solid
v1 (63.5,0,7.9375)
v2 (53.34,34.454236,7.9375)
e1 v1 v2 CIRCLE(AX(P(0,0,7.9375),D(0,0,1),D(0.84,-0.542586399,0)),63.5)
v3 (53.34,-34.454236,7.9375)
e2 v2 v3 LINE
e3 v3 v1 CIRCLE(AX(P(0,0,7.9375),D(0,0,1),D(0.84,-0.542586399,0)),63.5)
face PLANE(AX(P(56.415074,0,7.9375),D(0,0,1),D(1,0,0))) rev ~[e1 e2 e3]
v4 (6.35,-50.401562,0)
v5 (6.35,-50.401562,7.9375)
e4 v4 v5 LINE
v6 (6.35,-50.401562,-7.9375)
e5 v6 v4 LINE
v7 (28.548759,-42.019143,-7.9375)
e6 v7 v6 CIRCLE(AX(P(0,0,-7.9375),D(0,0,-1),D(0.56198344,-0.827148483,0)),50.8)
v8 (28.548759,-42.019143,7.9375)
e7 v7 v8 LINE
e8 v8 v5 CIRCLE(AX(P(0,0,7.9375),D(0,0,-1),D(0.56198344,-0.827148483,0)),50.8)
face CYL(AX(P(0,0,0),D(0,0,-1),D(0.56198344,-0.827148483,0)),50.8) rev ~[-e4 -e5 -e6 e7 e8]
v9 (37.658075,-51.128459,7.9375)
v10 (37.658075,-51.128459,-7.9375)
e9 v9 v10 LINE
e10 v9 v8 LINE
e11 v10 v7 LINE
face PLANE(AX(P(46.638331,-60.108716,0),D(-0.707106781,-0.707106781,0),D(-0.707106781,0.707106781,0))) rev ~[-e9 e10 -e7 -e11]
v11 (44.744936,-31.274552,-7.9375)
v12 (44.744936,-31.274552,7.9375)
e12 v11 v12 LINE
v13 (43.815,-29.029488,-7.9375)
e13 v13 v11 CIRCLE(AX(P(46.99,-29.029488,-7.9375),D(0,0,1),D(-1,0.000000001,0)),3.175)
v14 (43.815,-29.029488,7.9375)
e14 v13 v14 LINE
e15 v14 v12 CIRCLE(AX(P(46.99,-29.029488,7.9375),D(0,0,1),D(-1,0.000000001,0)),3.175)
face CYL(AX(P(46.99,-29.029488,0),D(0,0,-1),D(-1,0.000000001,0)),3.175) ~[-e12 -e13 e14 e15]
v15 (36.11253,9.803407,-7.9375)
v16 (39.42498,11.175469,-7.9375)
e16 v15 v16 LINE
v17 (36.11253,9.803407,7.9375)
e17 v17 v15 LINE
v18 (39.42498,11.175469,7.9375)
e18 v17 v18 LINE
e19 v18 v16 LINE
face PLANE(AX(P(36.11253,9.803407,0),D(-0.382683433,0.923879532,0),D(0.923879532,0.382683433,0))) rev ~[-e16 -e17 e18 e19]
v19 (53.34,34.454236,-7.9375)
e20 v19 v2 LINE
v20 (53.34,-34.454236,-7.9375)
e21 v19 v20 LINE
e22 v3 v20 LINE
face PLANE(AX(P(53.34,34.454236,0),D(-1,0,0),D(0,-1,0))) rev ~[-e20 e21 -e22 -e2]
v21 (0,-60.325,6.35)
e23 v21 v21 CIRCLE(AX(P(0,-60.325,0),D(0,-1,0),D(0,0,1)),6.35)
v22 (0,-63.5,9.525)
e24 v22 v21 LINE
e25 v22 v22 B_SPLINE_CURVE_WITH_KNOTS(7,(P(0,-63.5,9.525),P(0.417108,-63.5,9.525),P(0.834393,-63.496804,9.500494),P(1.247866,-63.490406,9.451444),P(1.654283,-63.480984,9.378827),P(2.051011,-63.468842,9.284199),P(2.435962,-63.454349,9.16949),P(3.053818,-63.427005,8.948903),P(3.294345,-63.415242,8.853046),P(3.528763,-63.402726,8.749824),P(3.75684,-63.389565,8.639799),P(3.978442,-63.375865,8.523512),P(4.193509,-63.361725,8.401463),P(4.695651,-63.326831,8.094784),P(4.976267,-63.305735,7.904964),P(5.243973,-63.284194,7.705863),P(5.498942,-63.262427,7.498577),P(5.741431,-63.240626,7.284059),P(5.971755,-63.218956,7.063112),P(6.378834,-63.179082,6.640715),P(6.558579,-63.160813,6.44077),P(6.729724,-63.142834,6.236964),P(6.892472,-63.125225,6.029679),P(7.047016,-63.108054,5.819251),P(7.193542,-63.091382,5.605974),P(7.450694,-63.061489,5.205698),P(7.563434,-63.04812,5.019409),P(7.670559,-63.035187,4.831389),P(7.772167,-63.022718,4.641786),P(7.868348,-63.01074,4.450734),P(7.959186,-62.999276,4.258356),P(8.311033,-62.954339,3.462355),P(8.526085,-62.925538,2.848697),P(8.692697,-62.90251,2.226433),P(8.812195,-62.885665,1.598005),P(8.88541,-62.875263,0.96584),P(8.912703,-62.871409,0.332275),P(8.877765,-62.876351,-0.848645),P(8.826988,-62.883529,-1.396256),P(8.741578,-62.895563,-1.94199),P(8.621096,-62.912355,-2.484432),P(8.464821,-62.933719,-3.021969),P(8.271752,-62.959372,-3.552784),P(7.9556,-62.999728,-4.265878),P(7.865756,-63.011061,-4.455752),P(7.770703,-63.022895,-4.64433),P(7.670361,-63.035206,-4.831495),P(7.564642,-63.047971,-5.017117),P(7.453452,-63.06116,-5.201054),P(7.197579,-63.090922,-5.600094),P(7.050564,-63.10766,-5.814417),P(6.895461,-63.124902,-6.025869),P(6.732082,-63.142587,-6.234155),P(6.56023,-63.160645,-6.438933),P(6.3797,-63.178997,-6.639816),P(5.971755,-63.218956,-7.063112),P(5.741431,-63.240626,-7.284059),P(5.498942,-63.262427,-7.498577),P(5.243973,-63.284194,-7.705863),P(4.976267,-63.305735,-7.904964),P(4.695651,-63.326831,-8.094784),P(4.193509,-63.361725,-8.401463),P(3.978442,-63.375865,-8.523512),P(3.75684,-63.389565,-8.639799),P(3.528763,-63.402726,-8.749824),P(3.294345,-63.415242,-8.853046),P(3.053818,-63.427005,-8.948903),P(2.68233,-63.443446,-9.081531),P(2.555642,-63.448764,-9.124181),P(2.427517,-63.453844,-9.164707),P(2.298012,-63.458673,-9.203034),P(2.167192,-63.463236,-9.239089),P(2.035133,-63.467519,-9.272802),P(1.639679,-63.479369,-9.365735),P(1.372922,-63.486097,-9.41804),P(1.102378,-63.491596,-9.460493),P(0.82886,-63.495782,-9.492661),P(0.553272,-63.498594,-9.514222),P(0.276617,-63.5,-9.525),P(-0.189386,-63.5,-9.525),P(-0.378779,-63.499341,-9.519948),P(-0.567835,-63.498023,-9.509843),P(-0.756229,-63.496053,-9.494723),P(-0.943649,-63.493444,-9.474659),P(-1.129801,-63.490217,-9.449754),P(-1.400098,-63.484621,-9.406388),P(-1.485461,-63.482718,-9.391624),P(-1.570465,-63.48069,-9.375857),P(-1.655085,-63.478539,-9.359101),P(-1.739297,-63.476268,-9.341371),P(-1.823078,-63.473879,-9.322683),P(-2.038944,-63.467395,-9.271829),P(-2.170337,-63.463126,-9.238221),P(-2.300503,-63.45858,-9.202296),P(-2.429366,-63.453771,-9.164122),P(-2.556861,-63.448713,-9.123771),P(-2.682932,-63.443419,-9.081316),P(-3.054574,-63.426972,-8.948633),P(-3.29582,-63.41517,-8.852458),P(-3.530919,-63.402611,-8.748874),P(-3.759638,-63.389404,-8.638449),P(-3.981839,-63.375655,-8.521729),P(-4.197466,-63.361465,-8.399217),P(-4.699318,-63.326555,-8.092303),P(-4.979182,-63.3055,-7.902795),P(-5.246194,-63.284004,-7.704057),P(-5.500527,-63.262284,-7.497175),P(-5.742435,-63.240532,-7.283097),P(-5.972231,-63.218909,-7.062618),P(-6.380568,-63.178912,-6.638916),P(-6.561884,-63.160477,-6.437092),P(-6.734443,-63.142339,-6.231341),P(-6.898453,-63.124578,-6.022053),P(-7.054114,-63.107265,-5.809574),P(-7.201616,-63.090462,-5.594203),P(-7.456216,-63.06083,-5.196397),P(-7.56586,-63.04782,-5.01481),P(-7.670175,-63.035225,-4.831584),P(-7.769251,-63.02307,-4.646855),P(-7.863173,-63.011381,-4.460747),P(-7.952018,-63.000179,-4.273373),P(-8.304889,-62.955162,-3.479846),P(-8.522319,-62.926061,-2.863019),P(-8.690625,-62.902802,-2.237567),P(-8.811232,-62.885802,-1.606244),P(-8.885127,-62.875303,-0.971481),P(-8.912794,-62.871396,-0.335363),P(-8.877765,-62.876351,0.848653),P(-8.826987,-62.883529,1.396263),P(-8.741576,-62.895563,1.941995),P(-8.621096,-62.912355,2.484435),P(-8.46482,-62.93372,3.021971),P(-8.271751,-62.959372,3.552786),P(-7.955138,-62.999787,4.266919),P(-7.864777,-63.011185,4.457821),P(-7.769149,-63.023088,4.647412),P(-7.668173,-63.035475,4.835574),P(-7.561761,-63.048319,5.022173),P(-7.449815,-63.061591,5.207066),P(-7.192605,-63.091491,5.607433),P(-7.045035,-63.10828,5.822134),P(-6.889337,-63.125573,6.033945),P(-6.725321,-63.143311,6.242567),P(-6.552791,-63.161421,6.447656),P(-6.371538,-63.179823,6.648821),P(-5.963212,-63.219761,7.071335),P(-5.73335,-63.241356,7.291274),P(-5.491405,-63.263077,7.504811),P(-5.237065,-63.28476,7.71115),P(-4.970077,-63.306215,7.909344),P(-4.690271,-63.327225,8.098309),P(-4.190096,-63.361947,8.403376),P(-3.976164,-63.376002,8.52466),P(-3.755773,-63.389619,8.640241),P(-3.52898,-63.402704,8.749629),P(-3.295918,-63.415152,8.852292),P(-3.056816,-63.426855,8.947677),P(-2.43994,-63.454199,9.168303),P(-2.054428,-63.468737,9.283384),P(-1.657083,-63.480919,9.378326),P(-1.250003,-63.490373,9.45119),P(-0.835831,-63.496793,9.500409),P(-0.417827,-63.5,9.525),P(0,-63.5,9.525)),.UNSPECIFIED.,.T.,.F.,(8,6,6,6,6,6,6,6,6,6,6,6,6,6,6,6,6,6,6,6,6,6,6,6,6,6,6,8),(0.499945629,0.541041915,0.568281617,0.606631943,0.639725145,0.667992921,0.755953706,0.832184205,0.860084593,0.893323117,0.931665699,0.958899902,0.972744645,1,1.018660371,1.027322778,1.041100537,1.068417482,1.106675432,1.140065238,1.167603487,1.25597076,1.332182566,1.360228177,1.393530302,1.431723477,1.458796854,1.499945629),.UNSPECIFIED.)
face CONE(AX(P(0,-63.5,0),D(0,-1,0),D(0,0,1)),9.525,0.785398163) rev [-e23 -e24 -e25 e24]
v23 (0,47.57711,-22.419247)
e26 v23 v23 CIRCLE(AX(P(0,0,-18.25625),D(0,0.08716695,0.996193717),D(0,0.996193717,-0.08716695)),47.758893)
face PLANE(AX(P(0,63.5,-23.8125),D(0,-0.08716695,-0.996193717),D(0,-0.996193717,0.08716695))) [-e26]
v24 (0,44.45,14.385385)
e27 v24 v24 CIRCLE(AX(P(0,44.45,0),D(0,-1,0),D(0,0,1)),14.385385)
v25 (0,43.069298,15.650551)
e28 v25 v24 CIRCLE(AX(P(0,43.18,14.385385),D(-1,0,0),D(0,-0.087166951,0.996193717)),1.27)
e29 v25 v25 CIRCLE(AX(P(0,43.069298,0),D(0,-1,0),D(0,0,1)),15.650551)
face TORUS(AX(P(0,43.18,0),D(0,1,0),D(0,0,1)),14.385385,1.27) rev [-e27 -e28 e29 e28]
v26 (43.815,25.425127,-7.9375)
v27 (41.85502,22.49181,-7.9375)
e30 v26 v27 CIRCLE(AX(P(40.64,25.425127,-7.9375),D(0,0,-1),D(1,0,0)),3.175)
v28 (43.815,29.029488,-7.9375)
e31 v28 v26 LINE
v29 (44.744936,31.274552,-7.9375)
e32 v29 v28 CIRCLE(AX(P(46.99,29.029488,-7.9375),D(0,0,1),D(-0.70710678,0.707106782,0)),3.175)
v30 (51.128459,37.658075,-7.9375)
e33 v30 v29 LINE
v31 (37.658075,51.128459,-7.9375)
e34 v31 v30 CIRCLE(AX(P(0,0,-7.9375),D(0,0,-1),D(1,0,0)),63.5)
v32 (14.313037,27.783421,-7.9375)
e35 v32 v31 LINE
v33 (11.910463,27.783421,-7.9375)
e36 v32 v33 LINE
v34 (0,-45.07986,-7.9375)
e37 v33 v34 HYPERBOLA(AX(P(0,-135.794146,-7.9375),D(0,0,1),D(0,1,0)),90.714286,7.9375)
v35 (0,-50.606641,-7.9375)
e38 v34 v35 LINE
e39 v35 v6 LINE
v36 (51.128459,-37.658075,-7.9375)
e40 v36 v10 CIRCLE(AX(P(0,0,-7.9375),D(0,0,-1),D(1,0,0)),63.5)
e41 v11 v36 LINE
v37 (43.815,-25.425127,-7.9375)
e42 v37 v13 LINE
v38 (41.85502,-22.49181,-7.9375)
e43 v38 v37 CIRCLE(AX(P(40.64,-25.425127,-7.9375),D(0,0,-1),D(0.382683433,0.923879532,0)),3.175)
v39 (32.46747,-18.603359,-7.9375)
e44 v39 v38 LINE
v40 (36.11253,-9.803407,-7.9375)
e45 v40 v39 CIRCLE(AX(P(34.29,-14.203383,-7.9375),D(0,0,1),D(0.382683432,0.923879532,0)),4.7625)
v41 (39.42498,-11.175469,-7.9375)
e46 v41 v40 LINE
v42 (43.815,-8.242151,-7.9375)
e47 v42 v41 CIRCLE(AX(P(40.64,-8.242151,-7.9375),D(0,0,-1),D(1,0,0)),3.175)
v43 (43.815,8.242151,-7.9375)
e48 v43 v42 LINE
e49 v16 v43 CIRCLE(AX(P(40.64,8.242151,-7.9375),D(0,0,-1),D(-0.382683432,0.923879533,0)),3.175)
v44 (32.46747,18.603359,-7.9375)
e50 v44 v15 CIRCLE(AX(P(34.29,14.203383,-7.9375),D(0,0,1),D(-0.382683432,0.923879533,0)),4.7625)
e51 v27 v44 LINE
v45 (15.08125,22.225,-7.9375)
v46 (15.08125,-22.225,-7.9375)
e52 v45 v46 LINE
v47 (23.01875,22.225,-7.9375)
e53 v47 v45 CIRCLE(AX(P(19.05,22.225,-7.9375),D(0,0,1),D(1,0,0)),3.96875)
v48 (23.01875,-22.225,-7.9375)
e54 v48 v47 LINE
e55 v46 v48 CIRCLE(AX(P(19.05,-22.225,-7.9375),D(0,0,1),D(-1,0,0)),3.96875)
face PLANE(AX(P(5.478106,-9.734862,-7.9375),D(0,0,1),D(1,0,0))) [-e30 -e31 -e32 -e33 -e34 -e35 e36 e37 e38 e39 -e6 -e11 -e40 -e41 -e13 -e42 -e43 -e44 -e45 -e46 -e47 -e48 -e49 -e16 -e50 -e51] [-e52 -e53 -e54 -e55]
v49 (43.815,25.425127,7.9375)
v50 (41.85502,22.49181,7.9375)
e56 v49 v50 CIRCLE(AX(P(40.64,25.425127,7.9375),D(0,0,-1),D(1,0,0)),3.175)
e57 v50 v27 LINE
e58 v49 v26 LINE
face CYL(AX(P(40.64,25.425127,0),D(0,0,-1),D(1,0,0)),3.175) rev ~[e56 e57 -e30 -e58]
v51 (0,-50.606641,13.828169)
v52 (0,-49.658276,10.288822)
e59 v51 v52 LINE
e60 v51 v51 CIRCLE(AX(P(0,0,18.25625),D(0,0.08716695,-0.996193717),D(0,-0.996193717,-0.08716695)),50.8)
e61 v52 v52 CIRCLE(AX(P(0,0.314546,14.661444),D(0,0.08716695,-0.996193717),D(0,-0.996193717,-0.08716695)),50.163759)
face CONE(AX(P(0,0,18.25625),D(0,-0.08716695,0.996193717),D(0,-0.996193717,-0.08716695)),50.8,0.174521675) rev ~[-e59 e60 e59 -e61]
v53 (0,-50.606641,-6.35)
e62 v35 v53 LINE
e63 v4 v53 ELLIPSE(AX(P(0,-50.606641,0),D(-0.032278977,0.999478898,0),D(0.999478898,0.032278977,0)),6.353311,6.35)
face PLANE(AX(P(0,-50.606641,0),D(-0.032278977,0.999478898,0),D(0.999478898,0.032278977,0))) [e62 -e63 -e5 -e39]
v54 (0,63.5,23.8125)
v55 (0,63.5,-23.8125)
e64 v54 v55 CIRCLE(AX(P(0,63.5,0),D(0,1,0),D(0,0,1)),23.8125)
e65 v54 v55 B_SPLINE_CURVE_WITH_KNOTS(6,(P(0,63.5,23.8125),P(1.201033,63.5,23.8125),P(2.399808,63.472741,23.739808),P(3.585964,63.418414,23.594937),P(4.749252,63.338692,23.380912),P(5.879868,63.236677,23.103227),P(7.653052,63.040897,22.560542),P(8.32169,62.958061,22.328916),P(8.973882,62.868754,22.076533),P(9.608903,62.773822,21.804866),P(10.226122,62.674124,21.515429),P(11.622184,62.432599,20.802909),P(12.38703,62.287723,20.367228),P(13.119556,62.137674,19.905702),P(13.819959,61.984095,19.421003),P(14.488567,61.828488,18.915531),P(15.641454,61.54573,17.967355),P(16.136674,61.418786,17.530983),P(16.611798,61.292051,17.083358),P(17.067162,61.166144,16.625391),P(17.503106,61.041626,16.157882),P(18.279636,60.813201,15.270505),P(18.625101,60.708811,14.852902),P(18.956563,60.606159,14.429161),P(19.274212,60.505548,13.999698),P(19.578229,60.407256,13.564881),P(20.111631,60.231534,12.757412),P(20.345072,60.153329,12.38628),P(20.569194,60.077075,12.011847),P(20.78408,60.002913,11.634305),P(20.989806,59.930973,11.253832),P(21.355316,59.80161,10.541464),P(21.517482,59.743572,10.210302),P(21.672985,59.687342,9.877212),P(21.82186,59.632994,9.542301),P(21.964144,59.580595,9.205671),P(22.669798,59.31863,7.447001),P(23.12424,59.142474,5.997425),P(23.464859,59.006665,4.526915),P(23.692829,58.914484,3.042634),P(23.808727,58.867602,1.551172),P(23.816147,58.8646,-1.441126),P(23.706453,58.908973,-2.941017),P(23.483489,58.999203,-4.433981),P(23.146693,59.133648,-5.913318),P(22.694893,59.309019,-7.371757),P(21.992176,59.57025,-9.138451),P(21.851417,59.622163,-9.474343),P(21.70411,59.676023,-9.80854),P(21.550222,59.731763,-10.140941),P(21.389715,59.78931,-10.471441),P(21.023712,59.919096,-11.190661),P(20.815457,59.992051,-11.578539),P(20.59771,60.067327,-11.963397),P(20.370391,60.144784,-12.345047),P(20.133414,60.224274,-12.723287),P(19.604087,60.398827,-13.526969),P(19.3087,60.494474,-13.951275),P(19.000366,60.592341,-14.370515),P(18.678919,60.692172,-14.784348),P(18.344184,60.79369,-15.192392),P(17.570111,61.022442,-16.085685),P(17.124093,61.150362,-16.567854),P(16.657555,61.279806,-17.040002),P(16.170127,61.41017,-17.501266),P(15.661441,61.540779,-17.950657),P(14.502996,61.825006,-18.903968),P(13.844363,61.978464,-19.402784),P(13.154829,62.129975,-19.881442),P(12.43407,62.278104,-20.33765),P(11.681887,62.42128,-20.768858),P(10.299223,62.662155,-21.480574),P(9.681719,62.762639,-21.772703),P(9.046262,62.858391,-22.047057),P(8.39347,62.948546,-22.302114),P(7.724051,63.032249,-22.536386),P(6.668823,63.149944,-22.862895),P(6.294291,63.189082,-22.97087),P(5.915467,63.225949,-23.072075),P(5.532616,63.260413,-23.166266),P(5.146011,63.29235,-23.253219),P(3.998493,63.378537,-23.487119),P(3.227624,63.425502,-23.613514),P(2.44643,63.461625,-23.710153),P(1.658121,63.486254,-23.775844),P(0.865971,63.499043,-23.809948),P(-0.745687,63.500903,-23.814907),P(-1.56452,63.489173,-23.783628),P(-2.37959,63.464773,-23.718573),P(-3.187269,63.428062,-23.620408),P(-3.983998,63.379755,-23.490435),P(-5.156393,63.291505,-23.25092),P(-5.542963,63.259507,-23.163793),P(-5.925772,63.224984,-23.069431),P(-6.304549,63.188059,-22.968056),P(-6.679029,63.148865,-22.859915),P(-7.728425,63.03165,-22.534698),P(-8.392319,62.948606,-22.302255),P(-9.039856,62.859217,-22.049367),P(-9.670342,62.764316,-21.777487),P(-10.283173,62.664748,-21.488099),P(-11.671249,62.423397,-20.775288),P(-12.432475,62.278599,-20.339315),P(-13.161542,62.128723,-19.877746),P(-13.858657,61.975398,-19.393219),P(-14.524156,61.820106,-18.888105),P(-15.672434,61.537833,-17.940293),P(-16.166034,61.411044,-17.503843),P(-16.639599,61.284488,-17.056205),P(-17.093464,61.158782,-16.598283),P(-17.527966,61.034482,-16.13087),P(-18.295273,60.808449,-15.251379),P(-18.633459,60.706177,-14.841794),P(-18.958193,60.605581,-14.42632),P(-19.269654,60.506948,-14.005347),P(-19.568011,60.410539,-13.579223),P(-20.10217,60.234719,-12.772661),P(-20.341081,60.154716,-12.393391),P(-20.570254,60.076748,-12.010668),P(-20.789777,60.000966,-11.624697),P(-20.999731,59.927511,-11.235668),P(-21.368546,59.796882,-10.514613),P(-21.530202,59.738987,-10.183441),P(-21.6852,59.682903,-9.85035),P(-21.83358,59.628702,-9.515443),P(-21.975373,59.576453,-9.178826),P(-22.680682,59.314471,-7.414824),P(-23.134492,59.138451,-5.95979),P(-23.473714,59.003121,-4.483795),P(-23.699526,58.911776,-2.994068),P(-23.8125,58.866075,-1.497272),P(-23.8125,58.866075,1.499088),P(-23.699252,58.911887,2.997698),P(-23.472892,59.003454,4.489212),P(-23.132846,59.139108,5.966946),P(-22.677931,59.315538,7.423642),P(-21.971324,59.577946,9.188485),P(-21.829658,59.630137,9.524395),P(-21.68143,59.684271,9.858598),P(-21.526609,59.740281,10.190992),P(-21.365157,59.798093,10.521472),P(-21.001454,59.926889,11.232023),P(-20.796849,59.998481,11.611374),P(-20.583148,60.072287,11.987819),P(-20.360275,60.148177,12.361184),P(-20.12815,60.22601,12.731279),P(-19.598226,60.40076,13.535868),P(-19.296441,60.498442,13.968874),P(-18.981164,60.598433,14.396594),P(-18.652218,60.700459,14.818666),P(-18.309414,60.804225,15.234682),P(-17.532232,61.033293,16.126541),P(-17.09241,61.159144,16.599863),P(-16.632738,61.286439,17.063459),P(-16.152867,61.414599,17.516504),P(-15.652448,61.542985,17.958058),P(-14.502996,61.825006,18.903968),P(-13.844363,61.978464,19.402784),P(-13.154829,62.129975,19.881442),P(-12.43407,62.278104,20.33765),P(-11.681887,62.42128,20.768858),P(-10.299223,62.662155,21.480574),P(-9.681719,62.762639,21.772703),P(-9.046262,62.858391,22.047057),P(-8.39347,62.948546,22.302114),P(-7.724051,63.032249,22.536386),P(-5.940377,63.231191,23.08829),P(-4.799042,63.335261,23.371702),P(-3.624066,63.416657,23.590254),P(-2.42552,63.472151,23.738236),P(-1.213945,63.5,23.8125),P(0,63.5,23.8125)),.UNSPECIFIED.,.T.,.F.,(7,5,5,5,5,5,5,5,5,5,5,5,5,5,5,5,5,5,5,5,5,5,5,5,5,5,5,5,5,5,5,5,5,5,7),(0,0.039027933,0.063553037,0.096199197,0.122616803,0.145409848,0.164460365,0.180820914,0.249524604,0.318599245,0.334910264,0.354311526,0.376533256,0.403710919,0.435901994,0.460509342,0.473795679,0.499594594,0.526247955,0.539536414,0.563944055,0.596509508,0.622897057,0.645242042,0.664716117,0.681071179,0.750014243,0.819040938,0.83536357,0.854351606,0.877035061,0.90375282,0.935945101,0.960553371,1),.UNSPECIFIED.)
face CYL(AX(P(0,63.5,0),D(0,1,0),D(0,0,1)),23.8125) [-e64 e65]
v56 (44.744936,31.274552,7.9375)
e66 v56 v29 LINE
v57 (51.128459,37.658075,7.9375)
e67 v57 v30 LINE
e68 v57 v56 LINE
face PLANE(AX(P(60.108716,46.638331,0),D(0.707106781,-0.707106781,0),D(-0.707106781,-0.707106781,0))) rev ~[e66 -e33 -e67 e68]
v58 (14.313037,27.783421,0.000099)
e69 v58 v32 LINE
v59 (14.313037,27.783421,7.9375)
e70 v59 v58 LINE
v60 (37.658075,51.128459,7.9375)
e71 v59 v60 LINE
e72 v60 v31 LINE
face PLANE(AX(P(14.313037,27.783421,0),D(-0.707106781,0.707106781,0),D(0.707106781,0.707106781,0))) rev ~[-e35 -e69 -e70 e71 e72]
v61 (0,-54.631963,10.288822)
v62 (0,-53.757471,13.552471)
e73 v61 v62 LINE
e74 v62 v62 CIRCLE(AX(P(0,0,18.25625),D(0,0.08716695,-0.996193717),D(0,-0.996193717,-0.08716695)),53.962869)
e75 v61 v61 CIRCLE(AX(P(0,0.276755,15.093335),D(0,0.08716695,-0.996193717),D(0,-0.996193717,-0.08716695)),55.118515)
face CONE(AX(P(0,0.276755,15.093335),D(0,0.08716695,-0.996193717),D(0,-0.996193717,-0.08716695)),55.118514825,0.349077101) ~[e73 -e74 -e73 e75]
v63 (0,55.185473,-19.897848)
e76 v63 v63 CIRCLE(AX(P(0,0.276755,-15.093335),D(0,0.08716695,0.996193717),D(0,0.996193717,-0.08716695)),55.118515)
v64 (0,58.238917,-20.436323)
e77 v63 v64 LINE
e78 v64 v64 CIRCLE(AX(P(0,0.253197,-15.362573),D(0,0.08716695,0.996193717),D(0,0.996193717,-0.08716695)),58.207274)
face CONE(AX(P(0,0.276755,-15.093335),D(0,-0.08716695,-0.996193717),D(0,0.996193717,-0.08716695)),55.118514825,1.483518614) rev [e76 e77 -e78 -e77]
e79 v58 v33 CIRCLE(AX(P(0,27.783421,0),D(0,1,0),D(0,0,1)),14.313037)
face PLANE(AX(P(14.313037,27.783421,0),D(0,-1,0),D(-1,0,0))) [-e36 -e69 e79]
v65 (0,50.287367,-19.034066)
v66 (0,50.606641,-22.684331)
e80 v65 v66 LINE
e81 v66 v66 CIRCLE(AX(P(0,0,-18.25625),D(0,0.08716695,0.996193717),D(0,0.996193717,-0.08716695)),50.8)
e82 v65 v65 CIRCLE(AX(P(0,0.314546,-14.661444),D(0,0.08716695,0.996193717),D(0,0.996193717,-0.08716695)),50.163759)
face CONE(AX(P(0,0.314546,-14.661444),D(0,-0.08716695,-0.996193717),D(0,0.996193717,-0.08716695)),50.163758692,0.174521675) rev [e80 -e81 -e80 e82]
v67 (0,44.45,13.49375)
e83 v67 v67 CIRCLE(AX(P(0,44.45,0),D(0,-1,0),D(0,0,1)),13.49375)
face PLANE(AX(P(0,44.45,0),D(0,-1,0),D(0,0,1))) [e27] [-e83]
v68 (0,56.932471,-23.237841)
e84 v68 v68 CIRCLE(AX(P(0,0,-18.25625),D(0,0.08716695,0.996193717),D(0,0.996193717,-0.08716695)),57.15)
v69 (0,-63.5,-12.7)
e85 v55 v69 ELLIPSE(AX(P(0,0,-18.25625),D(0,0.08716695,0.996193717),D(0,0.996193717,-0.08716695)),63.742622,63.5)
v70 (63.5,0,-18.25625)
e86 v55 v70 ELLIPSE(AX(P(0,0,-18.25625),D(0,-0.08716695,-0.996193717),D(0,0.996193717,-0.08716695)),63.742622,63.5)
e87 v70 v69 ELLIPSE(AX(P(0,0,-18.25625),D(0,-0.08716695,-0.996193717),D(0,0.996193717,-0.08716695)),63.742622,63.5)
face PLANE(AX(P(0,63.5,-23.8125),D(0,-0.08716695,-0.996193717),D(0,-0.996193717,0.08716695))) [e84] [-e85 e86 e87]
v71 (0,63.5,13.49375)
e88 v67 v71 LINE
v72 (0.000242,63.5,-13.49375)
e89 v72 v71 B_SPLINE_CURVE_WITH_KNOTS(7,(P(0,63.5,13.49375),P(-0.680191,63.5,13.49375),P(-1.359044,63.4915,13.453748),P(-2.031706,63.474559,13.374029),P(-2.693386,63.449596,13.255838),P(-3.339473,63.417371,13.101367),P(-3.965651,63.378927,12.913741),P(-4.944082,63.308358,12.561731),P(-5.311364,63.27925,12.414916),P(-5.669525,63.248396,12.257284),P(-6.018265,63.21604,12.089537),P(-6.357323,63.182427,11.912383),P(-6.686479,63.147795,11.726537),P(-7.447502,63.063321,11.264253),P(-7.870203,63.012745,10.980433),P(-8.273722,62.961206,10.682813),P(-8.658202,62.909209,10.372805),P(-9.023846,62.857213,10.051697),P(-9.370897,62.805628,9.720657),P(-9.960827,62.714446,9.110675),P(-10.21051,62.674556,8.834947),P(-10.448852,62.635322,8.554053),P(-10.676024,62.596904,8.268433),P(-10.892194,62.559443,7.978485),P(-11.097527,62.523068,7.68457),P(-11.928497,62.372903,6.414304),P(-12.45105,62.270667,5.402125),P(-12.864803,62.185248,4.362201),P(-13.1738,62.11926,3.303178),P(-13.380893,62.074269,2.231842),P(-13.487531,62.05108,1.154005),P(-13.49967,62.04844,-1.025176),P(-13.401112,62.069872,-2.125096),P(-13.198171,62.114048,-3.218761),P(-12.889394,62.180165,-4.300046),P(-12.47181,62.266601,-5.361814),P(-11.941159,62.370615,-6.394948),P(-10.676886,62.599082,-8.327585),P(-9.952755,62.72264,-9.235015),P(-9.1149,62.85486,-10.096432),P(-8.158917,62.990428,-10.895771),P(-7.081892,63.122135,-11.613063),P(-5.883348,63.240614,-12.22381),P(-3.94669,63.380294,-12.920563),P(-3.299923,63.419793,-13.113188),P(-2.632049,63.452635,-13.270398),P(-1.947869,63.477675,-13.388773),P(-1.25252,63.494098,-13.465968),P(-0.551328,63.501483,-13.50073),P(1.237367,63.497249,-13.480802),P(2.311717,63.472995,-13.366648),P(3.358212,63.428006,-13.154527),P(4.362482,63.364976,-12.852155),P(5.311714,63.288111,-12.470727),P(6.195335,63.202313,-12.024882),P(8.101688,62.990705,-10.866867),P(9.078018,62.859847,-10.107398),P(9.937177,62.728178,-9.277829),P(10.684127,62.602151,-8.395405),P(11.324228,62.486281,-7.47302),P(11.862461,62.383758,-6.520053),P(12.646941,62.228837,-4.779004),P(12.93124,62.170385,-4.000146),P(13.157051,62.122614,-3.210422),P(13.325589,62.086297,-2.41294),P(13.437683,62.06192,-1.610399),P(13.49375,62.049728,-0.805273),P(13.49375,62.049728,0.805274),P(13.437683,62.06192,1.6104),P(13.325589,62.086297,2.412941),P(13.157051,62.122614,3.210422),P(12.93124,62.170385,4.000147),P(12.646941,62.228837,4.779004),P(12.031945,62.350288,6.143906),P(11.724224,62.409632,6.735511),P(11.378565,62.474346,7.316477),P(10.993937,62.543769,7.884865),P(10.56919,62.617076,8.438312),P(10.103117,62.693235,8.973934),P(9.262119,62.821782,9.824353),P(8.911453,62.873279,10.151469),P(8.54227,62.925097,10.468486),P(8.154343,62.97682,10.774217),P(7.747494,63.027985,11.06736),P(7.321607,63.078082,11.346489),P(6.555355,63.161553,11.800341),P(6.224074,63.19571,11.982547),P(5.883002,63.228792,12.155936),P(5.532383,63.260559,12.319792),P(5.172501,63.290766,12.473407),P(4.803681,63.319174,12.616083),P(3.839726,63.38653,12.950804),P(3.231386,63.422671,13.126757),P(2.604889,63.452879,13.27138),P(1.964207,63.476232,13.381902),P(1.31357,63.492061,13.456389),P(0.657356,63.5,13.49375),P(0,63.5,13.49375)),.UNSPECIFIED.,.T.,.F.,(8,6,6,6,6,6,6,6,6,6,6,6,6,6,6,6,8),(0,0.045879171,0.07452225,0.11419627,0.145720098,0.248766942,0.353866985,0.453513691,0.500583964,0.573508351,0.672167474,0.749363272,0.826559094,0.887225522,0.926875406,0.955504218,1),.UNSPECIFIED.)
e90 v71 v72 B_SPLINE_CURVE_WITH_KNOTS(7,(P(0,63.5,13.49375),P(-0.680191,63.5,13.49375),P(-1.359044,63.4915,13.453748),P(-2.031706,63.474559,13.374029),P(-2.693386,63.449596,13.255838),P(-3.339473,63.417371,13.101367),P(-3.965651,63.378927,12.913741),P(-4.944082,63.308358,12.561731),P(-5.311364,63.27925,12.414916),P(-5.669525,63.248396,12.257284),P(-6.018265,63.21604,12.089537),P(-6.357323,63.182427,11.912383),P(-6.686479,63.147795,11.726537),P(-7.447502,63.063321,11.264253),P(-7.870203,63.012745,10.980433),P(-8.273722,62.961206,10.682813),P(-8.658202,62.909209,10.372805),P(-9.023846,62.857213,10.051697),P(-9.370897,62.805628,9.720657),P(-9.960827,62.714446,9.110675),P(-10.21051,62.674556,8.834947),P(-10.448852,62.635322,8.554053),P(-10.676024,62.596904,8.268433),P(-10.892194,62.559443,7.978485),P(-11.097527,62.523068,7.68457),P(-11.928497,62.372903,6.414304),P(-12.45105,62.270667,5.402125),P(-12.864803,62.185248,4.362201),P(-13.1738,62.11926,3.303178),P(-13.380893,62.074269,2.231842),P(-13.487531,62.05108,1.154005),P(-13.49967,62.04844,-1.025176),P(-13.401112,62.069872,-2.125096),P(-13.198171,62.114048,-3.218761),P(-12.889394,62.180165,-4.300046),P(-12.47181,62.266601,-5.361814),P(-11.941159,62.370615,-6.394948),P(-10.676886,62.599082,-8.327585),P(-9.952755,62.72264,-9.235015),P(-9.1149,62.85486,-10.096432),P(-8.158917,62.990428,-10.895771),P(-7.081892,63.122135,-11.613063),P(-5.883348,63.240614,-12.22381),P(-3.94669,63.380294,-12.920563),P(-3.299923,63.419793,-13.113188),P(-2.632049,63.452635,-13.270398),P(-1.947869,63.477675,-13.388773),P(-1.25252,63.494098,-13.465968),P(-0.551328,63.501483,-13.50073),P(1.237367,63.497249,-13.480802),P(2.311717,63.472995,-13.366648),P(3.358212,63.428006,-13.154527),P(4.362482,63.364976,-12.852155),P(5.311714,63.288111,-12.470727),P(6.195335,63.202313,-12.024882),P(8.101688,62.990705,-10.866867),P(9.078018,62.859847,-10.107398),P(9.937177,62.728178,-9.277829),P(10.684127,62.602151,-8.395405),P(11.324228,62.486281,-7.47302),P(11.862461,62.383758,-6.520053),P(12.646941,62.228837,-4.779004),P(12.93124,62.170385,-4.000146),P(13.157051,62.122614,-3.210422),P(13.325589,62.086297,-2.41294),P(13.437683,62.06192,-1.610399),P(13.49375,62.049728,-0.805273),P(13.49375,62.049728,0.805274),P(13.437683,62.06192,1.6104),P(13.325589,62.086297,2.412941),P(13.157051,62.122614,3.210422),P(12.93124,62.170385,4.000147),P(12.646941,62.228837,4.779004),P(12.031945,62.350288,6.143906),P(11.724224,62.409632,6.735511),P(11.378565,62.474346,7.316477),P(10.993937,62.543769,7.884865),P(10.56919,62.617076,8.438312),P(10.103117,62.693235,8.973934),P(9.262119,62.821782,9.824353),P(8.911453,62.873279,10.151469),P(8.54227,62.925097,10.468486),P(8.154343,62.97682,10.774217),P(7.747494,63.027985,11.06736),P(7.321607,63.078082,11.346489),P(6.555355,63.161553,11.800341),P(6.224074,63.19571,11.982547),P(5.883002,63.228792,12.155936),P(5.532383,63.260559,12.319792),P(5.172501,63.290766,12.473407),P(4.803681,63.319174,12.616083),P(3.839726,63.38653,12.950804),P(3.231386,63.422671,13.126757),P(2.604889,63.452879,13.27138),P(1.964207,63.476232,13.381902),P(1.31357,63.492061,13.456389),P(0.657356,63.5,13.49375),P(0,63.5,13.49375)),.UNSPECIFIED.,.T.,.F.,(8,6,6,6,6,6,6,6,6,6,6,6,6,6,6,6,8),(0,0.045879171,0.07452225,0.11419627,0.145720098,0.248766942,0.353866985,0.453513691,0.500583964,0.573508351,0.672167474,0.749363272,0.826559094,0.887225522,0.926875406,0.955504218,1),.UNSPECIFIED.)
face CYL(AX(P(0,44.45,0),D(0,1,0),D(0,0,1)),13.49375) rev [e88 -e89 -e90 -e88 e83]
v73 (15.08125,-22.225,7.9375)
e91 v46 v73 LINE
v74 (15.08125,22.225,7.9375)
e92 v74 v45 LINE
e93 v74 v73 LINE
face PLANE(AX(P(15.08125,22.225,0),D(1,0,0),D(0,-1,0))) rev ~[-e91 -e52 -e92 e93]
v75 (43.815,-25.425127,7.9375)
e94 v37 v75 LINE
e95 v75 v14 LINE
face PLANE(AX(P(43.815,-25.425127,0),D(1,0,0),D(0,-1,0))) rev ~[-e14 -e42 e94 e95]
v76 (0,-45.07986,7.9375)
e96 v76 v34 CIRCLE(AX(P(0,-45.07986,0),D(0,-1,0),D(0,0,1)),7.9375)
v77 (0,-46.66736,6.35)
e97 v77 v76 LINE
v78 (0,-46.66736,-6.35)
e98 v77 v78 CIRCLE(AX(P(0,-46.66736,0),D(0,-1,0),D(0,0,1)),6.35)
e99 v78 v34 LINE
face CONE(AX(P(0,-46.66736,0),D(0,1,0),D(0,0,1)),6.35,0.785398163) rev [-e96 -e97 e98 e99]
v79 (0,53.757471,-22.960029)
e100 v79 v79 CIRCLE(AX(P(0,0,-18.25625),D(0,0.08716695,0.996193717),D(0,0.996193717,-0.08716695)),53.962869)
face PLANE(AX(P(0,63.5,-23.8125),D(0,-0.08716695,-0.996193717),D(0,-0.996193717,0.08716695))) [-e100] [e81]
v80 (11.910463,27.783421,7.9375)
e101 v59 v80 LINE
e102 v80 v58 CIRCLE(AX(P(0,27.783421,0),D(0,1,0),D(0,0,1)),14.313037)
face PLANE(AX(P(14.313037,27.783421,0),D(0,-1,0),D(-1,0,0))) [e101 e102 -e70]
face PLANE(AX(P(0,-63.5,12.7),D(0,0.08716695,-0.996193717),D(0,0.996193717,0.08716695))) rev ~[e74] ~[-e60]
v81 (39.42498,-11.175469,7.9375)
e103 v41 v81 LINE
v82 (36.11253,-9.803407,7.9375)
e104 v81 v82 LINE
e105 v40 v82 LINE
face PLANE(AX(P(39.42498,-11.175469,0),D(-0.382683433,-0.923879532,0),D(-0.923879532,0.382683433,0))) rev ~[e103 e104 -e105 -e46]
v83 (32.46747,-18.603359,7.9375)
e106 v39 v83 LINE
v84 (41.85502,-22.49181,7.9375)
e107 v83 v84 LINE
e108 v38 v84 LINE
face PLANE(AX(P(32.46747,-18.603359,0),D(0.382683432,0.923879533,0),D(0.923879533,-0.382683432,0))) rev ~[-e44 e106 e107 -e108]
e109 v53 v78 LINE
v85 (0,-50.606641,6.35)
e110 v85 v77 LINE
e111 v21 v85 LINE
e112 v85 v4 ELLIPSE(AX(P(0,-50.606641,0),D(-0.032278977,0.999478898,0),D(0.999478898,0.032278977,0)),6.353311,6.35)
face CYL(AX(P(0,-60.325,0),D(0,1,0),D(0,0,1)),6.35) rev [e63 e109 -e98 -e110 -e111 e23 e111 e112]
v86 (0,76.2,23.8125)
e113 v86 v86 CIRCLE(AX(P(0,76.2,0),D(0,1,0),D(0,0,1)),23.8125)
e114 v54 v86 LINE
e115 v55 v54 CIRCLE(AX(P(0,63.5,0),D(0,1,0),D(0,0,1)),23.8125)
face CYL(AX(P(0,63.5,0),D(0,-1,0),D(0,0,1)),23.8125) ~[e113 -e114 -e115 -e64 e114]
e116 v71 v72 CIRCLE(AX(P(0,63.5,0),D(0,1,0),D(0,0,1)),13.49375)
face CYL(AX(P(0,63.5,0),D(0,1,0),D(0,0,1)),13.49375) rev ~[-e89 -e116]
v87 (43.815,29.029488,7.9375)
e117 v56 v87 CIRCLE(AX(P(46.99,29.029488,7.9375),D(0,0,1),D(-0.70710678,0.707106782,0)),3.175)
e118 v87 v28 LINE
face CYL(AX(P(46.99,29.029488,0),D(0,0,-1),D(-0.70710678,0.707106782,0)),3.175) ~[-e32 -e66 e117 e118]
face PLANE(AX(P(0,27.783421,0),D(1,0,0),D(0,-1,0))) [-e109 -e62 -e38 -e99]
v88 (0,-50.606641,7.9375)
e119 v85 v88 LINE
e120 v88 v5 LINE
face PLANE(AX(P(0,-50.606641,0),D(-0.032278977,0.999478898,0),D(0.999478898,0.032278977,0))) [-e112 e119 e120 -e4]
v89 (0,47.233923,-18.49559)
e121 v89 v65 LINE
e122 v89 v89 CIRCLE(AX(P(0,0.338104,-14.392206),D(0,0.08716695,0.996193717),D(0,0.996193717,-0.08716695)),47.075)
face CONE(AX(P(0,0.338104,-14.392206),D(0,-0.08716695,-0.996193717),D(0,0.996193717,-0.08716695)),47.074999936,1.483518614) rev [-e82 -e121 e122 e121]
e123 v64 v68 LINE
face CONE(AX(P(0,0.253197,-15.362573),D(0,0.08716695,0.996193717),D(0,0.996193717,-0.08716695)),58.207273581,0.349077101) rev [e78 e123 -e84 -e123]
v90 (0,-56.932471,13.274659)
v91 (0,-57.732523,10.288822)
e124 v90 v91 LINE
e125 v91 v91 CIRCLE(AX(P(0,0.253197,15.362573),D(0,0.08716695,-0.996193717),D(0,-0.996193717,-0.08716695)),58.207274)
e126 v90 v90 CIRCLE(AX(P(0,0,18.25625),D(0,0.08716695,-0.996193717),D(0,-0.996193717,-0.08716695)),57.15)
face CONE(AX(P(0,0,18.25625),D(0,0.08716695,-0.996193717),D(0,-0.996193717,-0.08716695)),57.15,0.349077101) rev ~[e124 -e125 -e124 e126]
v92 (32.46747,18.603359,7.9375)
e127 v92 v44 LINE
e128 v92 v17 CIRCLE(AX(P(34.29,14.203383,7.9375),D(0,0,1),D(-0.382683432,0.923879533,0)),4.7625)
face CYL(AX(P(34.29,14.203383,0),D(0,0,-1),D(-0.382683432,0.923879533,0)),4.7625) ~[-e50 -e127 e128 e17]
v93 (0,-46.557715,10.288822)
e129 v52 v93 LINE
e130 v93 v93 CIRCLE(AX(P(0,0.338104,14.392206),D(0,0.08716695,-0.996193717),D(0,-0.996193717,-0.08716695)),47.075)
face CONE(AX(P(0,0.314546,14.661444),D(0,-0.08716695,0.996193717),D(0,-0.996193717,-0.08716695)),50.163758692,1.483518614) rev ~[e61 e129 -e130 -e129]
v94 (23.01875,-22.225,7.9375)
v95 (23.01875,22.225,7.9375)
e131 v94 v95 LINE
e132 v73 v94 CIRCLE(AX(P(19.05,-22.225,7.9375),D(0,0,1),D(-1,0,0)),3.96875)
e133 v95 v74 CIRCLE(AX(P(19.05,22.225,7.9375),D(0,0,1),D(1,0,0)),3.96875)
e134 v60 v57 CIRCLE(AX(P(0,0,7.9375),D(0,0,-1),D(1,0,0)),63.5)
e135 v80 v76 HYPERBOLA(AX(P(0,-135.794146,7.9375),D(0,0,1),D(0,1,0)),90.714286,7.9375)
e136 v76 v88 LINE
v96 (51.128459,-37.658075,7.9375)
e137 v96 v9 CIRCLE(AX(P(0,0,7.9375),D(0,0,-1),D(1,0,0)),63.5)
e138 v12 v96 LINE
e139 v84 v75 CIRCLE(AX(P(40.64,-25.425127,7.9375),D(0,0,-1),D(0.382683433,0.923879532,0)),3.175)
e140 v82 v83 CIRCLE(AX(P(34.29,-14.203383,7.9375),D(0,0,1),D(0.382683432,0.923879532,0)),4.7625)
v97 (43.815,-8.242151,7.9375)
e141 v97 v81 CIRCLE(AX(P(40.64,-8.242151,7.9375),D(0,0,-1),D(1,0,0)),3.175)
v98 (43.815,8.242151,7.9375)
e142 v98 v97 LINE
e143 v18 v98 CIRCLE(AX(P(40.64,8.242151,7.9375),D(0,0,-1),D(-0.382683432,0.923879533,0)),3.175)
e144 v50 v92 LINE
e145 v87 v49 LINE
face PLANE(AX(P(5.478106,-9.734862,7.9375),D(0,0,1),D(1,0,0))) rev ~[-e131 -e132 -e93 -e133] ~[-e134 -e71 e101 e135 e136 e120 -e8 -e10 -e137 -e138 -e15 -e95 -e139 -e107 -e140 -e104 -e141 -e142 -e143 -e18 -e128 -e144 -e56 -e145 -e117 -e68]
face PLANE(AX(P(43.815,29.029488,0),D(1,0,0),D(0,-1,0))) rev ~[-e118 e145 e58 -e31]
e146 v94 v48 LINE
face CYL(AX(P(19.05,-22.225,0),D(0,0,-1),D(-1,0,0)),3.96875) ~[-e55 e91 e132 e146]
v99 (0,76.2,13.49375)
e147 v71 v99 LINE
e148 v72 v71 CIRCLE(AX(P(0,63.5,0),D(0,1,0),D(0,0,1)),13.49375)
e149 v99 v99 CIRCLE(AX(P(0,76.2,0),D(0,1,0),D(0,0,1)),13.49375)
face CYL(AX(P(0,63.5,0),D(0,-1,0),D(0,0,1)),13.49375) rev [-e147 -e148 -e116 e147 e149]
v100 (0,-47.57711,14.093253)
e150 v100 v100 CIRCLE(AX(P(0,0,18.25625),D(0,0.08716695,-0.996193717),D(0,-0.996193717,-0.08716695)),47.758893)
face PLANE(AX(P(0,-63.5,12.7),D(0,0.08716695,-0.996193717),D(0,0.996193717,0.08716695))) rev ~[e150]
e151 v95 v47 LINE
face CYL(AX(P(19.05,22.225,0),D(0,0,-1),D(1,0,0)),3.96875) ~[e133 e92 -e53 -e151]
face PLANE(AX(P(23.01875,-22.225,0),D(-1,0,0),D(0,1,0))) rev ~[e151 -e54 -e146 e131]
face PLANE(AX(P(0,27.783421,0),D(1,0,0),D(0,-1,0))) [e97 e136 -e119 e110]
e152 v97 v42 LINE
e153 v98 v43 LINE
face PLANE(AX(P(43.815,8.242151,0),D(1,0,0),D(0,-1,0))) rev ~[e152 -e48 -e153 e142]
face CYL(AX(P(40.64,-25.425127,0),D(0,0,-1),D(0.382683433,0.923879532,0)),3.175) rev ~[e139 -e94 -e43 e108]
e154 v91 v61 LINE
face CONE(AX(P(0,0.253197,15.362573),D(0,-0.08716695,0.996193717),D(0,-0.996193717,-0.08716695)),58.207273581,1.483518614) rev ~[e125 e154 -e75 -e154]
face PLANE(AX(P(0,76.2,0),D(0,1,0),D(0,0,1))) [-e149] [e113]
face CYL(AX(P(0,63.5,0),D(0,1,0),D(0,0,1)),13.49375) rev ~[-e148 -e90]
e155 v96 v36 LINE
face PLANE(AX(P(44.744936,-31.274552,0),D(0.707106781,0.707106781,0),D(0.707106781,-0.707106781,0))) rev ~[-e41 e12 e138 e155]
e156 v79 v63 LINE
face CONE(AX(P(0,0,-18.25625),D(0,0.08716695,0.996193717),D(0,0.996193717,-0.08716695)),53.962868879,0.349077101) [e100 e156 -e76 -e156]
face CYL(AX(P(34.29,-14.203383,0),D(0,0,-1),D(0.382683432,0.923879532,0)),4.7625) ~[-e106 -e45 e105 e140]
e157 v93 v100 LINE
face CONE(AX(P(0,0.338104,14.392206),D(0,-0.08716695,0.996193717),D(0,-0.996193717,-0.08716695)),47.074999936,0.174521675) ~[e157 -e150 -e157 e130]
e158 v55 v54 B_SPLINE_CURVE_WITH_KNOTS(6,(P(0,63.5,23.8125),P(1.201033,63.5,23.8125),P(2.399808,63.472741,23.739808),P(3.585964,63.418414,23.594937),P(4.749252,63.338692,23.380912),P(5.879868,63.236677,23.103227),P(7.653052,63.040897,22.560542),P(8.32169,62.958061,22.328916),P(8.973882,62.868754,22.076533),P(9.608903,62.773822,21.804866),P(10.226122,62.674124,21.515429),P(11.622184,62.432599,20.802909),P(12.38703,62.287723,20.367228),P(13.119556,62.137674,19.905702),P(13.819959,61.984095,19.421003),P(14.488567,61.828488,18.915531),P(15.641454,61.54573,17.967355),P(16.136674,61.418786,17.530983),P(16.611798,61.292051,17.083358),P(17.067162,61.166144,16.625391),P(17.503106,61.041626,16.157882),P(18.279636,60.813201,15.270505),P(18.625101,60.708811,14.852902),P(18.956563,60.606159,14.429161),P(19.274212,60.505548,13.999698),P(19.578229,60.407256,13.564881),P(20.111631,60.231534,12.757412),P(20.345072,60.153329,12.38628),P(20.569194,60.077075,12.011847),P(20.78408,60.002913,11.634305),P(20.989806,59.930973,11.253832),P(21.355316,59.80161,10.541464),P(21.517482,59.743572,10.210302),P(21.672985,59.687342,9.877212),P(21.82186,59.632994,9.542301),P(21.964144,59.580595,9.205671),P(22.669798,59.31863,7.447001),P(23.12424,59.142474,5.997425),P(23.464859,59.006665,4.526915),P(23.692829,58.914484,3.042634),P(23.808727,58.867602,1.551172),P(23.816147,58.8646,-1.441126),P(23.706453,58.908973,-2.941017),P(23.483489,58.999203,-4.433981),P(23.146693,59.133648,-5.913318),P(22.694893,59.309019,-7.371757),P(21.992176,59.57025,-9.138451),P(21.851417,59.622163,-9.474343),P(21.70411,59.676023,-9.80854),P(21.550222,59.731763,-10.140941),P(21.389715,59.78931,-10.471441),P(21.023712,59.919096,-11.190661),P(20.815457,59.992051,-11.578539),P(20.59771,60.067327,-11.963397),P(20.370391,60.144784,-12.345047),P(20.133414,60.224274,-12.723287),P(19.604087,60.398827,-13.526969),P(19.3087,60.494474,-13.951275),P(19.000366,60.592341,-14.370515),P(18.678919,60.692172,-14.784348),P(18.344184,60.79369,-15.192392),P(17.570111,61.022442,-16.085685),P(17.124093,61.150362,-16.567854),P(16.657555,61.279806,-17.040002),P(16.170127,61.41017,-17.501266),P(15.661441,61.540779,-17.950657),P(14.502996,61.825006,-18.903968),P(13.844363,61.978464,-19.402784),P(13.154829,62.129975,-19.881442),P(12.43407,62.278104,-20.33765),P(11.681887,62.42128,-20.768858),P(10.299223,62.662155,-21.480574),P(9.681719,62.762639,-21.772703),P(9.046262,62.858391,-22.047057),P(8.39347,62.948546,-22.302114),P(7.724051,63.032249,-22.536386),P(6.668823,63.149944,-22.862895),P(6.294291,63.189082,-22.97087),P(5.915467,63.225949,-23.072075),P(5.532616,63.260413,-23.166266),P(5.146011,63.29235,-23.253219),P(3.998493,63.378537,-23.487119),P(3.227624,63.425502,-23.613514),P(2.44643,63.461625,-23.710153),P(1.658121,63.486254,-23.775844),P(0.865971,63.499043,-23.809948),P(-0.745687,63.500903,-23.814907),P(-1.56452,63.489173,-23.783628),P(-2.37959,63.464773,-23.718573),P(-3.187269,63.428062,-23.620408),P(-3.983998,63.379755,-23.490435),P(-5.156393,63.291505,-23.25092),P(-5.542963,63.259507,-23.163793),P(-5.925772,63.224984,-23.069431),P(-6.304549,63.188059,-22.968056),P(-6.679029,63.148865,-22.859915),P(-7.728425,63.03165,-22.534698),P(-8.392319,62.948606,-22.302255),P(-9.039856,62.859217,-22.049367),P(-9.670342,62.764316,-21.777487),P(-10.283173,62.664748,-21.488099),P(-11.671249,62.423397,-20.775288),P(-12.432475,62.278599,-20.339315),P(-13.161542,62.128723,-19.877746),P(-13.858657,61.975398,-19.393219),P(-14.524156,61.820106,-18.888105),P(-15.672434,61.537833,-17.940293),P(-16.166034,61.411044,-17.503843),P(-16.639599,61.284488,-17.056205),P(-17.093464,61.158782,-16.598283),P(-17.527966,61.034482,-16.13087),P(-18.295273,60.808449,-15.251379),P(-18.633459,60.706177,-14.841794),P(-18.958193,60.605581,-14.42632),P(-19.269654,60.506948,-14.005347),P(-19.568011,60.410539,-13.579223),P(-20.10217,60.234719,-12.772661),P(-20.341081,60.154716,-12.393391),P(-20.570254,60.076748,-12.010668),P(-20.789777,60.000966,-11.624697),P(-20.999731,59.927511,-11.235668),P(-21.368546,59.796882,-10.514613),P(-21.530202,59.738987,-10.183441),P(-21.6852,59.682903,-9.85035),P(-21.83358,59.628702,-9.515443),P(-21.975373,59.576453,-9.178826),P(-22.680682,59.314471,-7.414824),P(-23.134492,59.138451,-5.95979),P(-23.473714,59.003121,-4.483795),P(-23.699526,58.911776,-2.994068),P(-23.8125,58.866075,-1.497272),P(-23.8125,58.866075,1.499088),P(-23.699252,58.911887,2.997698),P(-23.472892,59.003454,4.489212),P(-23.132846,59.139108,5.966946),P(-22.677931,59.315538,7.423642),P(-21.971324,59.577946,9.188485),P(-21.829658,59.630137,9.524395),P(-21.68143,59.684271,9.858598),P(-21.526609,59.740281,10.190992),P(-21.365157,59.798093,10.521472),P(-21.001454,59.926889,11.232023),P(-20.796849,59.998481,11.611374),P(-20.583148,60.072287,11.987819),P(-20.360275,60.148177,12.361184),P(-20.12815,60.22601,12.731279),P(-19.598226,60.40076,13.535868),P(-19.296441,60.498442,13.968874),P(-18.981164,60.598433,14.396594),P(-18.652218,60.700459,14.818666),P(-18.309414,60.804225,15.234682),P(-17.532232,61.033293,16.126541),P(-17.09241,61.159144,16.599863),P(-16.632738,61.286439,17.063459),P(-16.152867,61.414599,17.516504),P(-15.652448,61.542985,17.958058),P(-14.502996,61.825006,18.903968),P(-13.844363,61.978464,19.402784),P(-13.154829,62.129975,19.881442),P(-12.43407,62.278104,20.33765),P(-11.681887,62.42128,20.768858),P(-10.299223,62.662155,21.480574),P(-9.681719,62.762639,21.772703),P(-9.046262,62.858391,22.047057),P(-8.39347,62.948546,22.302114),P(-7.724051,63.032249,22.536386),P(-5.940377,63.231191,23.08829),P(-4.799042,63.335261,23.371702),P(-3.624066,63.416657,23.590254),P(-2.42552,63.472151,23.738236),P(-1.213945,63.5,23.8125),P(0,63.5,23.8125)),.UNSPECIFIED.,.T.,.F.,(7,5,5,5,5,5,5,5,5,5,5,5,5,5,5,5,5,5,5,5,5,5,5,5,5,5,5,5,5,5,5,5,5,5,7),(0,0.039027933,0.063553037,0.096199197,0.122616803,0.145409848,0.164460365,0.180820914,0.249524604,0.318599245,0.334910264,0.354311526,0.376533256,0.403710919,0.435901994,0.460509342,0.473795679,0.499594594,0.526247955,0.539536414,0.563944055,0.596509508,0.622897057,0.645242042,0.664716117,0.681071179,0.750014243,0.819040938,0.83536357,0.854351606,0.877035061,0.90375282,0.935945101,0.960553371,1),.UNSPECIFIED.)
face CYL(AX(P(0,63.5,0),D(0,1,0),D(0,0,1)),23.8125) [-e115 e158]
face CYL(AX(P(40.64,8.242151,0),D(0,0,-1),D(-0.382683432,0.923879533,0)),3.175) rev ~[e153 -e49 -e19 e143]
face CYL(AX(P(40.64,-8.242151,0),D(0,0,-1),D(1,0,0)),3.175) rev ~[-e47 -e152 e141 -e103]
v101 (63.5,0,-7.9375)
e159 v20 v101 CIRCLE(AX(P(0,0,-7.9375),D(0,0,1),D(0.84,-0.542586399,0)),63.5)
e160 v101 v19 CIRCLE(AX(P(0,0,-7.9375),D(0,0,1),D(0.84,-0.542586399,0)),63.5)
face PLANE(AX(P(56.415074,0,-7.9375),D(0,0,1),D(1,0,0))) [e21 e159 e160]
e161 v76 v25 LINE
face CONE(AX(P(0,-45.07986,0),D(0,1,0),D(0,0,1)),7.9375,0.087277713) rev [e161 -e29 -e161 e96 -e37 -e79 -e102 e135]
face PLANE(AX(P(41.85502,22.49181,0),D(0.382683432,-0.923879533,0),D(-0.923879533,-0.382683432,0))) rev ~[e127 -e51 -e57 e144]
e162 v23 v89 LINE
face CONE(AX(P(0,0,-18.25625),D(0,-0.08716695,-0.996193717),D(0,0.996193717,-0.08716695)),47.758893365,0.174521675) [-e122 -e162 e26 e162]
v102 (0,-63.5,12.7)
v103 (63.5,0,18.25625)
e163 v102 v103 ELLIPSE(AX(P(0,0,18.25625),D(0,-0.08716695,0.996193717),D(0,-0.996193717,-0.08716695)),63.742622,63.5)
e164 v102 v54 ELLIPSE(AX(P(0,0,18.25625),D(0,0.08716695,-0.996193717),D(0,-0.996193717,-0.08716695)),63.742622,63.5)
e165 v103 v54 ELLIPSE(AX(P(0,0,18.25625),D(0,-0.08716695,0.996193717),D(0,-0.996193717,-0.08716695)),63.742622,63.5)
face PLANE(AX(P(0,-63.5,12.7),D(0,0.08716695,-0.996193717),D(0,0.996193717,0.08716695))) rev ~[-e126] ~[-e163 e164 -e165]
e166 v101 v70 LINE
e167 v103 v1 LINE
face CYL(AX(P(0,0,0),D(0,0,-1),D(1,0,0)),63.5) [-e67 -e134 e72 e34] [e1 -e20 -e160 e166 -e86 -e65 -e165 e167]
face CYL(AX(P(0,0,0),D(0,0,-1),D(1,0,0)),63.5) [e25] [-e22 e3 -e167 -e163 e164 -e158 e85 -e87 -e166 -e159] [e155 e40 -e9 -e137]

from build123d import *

# Parameters (mm, degrees)
SKETCH1_W                            = 47.625
SKETCH1_H                            = 63.5
CUT_EXTRUDE1_REACH                   = 94.906
CUT_EXTRUDE1_DIRECTION_2_REACH       = 94.906
SKETCH5_R                            = 23.8125
SKETCH5_R_2                          = 13.49375
BOSS_EXTRUDE1_DEPTH                  = 12.7
BOSS_EXTRUDE1_DIRECTION_2_REACH      = 145.973
BOSS_EXTRUDE1_DIRECTION_2_END_RADIUS = 63.5
CUT_EXTRUDE6_DEPTH                   = 7.9375


with BuildPart() as part:
    # Sketch1 → Revolve1 (revolve)
    with BuildSketch(Plane(origin=(0, 0, 0), x_dir=(0, 0, -1), z_dir=(1, 0, 0)), mode=Mode.PRIVATE) as revolve1_sk:
        with Locations((0, 31.75)):
            Rectangle(SKETCH1_W, SKETCH1_H)
    revolve(revolve1_sk.sketch.rotate(Axis((0, 0, 23.8125), (0, 0, -1)), 90), axis=Axis((0, 0, 23.8125), (0, 0, -1)))

    # Sketch2 → Cut-Extrude1 (cut, up to next)
    with BuildSketch(Plane(origin=(0, 0, 0), x_dir=(0, 0, -1), z_dir=(1, 0, 0)), mode=Mode.PRIVATE) as cut_extrude1_sk1:
        Polygon((-12.7, -63.5), (-23.8125, 63.5), (-23.8125, -63.5), align=None)
    cut_extrude1_tool1 = extrude(cut_extrude1_sk1.sketch, amount=-CUT_EXTRUDE1_REACH, mode=Mode.PRIVATE) & part.part
    # Sketch2 → Cut-Extrude1 (cut, up to next)
    with BuildSketch(Plane(origin=(0, 0, 0), x_dir=(0, 0, -1), z_dir=(1, 0, 0)), mode=Mode.PRIVATE) as cut_extrude1_sk2:
        Polygon((23.8125, 63.5), (12.7, -63.5), (23.8125, -63.5), align=None)
    cut_extrude1_tool2 = extrude(cut_extrude1_sk2.sketch, amount=-CUT_EXTRUDE1_REACH, mode=Mode.PRIVATE) & part.part
    add(cut_extrude1_tool1.solids().sort_by_distance((0, -21.166667, 20.108333))[0], mode=Mode.SUBTRACT)
    add(cut_extrude1_tool2.solids().sort_by_distance((0, -21.166667, -20.108333))[0], mode=Mode.SUBTRACT)

    # Sketch2 → Cut-Extrude1 direction 2 (cut, up to next)
    with BuildSketch(Plane(origin=(0, 0, 0), x_dir=(0, 0, -1), z_dir=(1, 0, 0)), mode=Mode.PRIVATE) as cut_extrude1_direction_2_sk1:
        Polygon((-12.7, -63.5), (-23.8125, 63.5), (-23.8125, -63.5), align=None)
    cut_extrude1_direction_2_tool1 = extrude(cut_extrude1_direction_2_sk1.sketch, amount=CUT_EXTRUDE1_DIRECTION_2_REACH, mode=Mode.PRIVATE) & part.part
    # Sketch2 → Cut-Extrude1 direction 2 (cut, up to next)
    with BuildSketch(Plane(origin=(0, 0, 0), x_dir=(0, 0, -1), z_dir=(1, 0, 0)), mode=Mode.PRIVATE) as cut_extrude1_direction_2_sk2:
        Polygon((23.8125, 63.5), (12.7, -63.5), (23.8125, -63.5), align=None)
    cut_extrude1_direction_2_tool2 = extrude(cut_extrude1_direction_2_sk2.sketch, amount=CUT_EXTRUDE1_DIRECTION_2_REACH, mode=Mode.PRIVATE) & part.part
    add(cut_extrude1_direction_2_tool1.solids().sort_by_distance((0, -21.166667, 20.108333))[0], mode=Mode.SUBTRACT)
    add(cut_extrude1_direction_2_tool2.solids().sort_by_distance((0, -21.166667, -20.108333))[0], mode=Mode.SUBTRACT)

    # Sketch3 → Cut-Revolve1 (revolve, cut)
    with BuildSketch(Plane(origin=(0, 0, 0), x_dir=(0, 0, -1), z_dir=(1, 0, 0))):
        Polygon((-14.093252917, -47.577109525), (-13.828168926, -50.606640849), (-10.288822106, -49.658275727), (-10.288822106, -46.557715362), align=None)
        Polygon((-13.552471291, -53.757470955), (-13.274658791, -56.932470955), (-10.288822106, -57.732523484), (-10.288822106, -54.631963119), align=None)
    revolve(axis=Axis((0, 0, 18.25625), (0, 0.08716695028091019, -0.9961937174961131)), mode=Mode.SUBTRACT)

    # Sketch3<4> → Cut-Revolve2 (revolve, cut)
    with BuildSketch(Plane(origin=(0, 0, 0), x_dir=(0, 0, -1), z_dir=(1, 0, 0)), mode=Mode.PRIVATE) as cut_revolve2_sk:
        Polygon((13.274658791, -56.932470955), (13.552471291, -53.757470955), (10.288822106, -54.631963119), (10.288822106, -57.732523484), align=None)
        Polygon((14.093252917, -47.577109525), (10.288822106, -46.557715362), (10.288822106, -49.658275727), (13.828168926, -50.606640849), align=None)
    revolve(cut_revolve2_sk.sketch.rotate(Axis((0, 0, -18.25625), (0, 0.08716695028091019, 0.9961937174961131)), 180), axis=Axis((0, 0, -18.25625), (0, 0.08716695028091019, 0.9961937174961131)), mode=Mode.SUBTRACT)

    # Sketch4 → Cut-Revolve3 (revolve, cut)
    with BuildSketch(Plane(origin=(0, 0, 0), x_dir=(0, 0, -1), z_dir=(1, 0, 0))):
        with BuildLine():
            Line((0, 63.5), (0, -63.5))
            Line((0, -63.5), (-9.525, -63.5))
            Line((-9.525, -63.5), (-6.35, -60.325))
            Line((-6.35, -60.325), (-6.35, -46.667360082))
            Line((-6.35, -46.667360082), (-7.9375, -45.079860082))
            Line((-7.9375, -45.079860082), (-15.65055133, 43.069297973))
            ThreePointArc((-15.65055133, 43.069297973), (-15.321732353, 44.037994297), (-14.385385309, 44.45))
            Line((-14.385385309, 44.45), (-13.49375, 44.45))
            Line((-13.49375, 44.45), (-13.49375, 76.2))
            Line((-13.49375, 76.2), (0, 76.2))
            Line((0, 76.2), (0, 63.5))
        make_face()
    revolve(axis=Axis((0, 63.5, 0), (0, -1, 0)), mode=Mode.SUBTRACT)


with BuildPart() as boss_extrude1_tool:
    # Sketch5 → Boss-Extrude1 (new body)
    with BuildSketch(Plane(origin=(0, 63.5, 0), x_dir=(1, 0, 0), z_dir=(0, 1, 0))):
        with Locations(Location((0, 0, 0), (0, 0, 270))):
            Circle(SKETCH5_R)
        with Locations(Location((0, 0, 0), (0, 0, 270))):
            Circle(SKETCH5_R_2, mode=Mode.SUBTRACT)
    extrude(amount=BOSS_EXTRUDE1_DEPTH)


with BuildPart() as part_1:
    add(part.part)


with BuildPart() as part_2:
    # Boss-Extrude1: joined with boss_extrude1_tool
    add(part_1.part.fuse(boss_extrude1_tool.part, tol=0.00001))

    # Boss-Extrude1 direction 2: up to this cylinder (the profile starts outside it)
    boss_extrude1_direction_2_end = Plane(origin=(0, 0, -23.138981), z_dir=(0, 0, 1)) * Cylinder(BOSS_EXTRUDE1_DIRECTION_2_END_RADIUS, 419.946, mode=Mode.PRIVATE)
    # Sketch5 → Boss-Extrude1 direction 2 (add, up to the surface)
    with BuildSketch(Plane(origin=(0, 63.5, 0), x_dir=(1, 0, 0), z_dir=(0, 1, 0)), mode=Mode.PRIVATE) as boss_extrude1_direction_2_sk1:
        with Locations(Location((0, 0, 0), (0, 0, 270))):
            Circle(SKETCH5_R)
        with Locations(Location((0, 0, 0), (0, 0, 270))):
            Circle(SKETCH5_R_2, mode=Mode.SUBTRACT)
    boss_extrude1_direction_2_tool1 = extrude(boss_extrude1_direction_2_sk1.sketch, amount=-BOSS_EXTRUDE1_DIRECTION_2_REACH, mode=Mode.PRIVATE) - boss_extrude1_direction_2_end
    add(boss_extrude1_direction_2_tool1.solids().sort_by_distance((0, 63.5, -23.138981))[0])
    add(boss_extrude1_direction_2_tool1.solids().sort_by_distance((0, 63.5, -23.138981))[1])

    # Sketch6 → Cut-Extrude6 (cut, symmetric)
    with BuildSketch(Plane.XY):
        Polygon((0, 27.783421303), (0, -50.606640849), (6.35, -50.401562476), (6.35, -46.667360082), (7.9375, -45.079860082), (14.313037121, 27.783421303), align=None)
        with BuildLine():
            ThreePointArc((28.548758758, -42.01914294), (17.945670231, -47.524655916), (6.35, -50.401562476))
            Line((6.35, -50.401562476), (6.35, -46.667360082))
            Line((6.35, -46.667360082), (7.9375, -45.079860082))
            Line((7.9375, -45.079860082), (14.313037121, 27.783421303))
            Line((14.313037121, 27.783421303), (37.658075276, 51.128459458))
            Line((37.658075276, 51.128459458), (46.638331397, 60.108715579))
            Line((46.638331397, 60.108715579), (60.108715579, 46.638331397))
            Line((60.108715579, 46.638331397), (51.128459458, 37.658075276))
            Line((51.128459458, 37.658075276), (44.74493597, 31.274551788))
            ThreePointArc((44.74493597, 31.274551788), (44.056682484, 30.244507656), (43.815, 29.029487758))
            Line((43.815, 29.029487758), (43.815, 25.425127265))
            ThreePointArc((43.815, 25.425127265), (43.279916019, 23.661191775), (41.855019898, 22.491809749))
            Line((41.855019898, 22.491809749), (32.467470153, 18.603359327))
            ThreePointArc((32.467470153, 18.603359327), (29.890023726, 12.380853207), (36.112529847, 9.80340678))
            Line((36.112529847, 9.80340678), (39.424980102, 11.175468601))
            ThreePointArc((39.424980102, 11.175468601), (42.40393549, 10.882067104), (43.815, 8.242151085))
            Line((43.815, 8.242151085), (43.815, -8.242151085))
            ThreePointArc((43.815, -8.242151085), (42.40393549, -10.882067104), (39.424980102, -11.175468601))
            Line((39.424980102, -11.175468601), (36.112529847, -9.80340678))
            ThreePointArc((36.112529847, -9.80340678), (29.890023726, -12.380853207), (32.467470153, -18.603359327))
            Line((32.467470153, -18.603359327), (41.855019898, -22.491809749))
            ThreePointArc((41.855019898, -22.491809749), (43.279916019, -23.661191775), (43.815, -25.425127265))
            Line((43.815, -25.425127265), (43.815, -29.029487758))
            ThreePointArc((43.815, -29.029487758), (44.056682484, -30.244507656), (44.74493597, -31.274551788))
            Line((44.74493597, -31.274551788), (51.128459458, -37.658075276))
            Line((51.128459458, -37.658075276), (60.108715579, -46.638331397))
            Line((60.108715579, -46.638331397), (46.638331397, -60.108715579))
            Line((46.638331397, -60.108715579), (37.658075276, -51.128459458))
            Line((37.658075276, -51.128459458), (28.548758758, -42.01914294))
        make_face()
        with BuildLine():
            ThreePointArc((15.08125, -22.225), (19.05, -26.19375), (23.01875, -22.225))
            Line((23.01875, -22.225), (23.01875, 22.225))
            ThreePointArc((23.01875, 22.225), (19.05, 26.19375), (15.08125, 22.225))
            Line((15.08125, 22.225), (15.08125, -22.225))
        make_face(mode=Mode.SUBTRACT)
        with BuildLine():
            ThreePointArc((53.34, -34.454236314), (63.5, 0), (53.34, 34.454236314))
            Line((53.34, 34.454236314), (53.34, -34.454236314))
        make_face()
    extrude(amount=CUT_EXTRUDE6_DEPTH, both=True, mode=Mode.SUBTRACT)


solid = part_2.part
